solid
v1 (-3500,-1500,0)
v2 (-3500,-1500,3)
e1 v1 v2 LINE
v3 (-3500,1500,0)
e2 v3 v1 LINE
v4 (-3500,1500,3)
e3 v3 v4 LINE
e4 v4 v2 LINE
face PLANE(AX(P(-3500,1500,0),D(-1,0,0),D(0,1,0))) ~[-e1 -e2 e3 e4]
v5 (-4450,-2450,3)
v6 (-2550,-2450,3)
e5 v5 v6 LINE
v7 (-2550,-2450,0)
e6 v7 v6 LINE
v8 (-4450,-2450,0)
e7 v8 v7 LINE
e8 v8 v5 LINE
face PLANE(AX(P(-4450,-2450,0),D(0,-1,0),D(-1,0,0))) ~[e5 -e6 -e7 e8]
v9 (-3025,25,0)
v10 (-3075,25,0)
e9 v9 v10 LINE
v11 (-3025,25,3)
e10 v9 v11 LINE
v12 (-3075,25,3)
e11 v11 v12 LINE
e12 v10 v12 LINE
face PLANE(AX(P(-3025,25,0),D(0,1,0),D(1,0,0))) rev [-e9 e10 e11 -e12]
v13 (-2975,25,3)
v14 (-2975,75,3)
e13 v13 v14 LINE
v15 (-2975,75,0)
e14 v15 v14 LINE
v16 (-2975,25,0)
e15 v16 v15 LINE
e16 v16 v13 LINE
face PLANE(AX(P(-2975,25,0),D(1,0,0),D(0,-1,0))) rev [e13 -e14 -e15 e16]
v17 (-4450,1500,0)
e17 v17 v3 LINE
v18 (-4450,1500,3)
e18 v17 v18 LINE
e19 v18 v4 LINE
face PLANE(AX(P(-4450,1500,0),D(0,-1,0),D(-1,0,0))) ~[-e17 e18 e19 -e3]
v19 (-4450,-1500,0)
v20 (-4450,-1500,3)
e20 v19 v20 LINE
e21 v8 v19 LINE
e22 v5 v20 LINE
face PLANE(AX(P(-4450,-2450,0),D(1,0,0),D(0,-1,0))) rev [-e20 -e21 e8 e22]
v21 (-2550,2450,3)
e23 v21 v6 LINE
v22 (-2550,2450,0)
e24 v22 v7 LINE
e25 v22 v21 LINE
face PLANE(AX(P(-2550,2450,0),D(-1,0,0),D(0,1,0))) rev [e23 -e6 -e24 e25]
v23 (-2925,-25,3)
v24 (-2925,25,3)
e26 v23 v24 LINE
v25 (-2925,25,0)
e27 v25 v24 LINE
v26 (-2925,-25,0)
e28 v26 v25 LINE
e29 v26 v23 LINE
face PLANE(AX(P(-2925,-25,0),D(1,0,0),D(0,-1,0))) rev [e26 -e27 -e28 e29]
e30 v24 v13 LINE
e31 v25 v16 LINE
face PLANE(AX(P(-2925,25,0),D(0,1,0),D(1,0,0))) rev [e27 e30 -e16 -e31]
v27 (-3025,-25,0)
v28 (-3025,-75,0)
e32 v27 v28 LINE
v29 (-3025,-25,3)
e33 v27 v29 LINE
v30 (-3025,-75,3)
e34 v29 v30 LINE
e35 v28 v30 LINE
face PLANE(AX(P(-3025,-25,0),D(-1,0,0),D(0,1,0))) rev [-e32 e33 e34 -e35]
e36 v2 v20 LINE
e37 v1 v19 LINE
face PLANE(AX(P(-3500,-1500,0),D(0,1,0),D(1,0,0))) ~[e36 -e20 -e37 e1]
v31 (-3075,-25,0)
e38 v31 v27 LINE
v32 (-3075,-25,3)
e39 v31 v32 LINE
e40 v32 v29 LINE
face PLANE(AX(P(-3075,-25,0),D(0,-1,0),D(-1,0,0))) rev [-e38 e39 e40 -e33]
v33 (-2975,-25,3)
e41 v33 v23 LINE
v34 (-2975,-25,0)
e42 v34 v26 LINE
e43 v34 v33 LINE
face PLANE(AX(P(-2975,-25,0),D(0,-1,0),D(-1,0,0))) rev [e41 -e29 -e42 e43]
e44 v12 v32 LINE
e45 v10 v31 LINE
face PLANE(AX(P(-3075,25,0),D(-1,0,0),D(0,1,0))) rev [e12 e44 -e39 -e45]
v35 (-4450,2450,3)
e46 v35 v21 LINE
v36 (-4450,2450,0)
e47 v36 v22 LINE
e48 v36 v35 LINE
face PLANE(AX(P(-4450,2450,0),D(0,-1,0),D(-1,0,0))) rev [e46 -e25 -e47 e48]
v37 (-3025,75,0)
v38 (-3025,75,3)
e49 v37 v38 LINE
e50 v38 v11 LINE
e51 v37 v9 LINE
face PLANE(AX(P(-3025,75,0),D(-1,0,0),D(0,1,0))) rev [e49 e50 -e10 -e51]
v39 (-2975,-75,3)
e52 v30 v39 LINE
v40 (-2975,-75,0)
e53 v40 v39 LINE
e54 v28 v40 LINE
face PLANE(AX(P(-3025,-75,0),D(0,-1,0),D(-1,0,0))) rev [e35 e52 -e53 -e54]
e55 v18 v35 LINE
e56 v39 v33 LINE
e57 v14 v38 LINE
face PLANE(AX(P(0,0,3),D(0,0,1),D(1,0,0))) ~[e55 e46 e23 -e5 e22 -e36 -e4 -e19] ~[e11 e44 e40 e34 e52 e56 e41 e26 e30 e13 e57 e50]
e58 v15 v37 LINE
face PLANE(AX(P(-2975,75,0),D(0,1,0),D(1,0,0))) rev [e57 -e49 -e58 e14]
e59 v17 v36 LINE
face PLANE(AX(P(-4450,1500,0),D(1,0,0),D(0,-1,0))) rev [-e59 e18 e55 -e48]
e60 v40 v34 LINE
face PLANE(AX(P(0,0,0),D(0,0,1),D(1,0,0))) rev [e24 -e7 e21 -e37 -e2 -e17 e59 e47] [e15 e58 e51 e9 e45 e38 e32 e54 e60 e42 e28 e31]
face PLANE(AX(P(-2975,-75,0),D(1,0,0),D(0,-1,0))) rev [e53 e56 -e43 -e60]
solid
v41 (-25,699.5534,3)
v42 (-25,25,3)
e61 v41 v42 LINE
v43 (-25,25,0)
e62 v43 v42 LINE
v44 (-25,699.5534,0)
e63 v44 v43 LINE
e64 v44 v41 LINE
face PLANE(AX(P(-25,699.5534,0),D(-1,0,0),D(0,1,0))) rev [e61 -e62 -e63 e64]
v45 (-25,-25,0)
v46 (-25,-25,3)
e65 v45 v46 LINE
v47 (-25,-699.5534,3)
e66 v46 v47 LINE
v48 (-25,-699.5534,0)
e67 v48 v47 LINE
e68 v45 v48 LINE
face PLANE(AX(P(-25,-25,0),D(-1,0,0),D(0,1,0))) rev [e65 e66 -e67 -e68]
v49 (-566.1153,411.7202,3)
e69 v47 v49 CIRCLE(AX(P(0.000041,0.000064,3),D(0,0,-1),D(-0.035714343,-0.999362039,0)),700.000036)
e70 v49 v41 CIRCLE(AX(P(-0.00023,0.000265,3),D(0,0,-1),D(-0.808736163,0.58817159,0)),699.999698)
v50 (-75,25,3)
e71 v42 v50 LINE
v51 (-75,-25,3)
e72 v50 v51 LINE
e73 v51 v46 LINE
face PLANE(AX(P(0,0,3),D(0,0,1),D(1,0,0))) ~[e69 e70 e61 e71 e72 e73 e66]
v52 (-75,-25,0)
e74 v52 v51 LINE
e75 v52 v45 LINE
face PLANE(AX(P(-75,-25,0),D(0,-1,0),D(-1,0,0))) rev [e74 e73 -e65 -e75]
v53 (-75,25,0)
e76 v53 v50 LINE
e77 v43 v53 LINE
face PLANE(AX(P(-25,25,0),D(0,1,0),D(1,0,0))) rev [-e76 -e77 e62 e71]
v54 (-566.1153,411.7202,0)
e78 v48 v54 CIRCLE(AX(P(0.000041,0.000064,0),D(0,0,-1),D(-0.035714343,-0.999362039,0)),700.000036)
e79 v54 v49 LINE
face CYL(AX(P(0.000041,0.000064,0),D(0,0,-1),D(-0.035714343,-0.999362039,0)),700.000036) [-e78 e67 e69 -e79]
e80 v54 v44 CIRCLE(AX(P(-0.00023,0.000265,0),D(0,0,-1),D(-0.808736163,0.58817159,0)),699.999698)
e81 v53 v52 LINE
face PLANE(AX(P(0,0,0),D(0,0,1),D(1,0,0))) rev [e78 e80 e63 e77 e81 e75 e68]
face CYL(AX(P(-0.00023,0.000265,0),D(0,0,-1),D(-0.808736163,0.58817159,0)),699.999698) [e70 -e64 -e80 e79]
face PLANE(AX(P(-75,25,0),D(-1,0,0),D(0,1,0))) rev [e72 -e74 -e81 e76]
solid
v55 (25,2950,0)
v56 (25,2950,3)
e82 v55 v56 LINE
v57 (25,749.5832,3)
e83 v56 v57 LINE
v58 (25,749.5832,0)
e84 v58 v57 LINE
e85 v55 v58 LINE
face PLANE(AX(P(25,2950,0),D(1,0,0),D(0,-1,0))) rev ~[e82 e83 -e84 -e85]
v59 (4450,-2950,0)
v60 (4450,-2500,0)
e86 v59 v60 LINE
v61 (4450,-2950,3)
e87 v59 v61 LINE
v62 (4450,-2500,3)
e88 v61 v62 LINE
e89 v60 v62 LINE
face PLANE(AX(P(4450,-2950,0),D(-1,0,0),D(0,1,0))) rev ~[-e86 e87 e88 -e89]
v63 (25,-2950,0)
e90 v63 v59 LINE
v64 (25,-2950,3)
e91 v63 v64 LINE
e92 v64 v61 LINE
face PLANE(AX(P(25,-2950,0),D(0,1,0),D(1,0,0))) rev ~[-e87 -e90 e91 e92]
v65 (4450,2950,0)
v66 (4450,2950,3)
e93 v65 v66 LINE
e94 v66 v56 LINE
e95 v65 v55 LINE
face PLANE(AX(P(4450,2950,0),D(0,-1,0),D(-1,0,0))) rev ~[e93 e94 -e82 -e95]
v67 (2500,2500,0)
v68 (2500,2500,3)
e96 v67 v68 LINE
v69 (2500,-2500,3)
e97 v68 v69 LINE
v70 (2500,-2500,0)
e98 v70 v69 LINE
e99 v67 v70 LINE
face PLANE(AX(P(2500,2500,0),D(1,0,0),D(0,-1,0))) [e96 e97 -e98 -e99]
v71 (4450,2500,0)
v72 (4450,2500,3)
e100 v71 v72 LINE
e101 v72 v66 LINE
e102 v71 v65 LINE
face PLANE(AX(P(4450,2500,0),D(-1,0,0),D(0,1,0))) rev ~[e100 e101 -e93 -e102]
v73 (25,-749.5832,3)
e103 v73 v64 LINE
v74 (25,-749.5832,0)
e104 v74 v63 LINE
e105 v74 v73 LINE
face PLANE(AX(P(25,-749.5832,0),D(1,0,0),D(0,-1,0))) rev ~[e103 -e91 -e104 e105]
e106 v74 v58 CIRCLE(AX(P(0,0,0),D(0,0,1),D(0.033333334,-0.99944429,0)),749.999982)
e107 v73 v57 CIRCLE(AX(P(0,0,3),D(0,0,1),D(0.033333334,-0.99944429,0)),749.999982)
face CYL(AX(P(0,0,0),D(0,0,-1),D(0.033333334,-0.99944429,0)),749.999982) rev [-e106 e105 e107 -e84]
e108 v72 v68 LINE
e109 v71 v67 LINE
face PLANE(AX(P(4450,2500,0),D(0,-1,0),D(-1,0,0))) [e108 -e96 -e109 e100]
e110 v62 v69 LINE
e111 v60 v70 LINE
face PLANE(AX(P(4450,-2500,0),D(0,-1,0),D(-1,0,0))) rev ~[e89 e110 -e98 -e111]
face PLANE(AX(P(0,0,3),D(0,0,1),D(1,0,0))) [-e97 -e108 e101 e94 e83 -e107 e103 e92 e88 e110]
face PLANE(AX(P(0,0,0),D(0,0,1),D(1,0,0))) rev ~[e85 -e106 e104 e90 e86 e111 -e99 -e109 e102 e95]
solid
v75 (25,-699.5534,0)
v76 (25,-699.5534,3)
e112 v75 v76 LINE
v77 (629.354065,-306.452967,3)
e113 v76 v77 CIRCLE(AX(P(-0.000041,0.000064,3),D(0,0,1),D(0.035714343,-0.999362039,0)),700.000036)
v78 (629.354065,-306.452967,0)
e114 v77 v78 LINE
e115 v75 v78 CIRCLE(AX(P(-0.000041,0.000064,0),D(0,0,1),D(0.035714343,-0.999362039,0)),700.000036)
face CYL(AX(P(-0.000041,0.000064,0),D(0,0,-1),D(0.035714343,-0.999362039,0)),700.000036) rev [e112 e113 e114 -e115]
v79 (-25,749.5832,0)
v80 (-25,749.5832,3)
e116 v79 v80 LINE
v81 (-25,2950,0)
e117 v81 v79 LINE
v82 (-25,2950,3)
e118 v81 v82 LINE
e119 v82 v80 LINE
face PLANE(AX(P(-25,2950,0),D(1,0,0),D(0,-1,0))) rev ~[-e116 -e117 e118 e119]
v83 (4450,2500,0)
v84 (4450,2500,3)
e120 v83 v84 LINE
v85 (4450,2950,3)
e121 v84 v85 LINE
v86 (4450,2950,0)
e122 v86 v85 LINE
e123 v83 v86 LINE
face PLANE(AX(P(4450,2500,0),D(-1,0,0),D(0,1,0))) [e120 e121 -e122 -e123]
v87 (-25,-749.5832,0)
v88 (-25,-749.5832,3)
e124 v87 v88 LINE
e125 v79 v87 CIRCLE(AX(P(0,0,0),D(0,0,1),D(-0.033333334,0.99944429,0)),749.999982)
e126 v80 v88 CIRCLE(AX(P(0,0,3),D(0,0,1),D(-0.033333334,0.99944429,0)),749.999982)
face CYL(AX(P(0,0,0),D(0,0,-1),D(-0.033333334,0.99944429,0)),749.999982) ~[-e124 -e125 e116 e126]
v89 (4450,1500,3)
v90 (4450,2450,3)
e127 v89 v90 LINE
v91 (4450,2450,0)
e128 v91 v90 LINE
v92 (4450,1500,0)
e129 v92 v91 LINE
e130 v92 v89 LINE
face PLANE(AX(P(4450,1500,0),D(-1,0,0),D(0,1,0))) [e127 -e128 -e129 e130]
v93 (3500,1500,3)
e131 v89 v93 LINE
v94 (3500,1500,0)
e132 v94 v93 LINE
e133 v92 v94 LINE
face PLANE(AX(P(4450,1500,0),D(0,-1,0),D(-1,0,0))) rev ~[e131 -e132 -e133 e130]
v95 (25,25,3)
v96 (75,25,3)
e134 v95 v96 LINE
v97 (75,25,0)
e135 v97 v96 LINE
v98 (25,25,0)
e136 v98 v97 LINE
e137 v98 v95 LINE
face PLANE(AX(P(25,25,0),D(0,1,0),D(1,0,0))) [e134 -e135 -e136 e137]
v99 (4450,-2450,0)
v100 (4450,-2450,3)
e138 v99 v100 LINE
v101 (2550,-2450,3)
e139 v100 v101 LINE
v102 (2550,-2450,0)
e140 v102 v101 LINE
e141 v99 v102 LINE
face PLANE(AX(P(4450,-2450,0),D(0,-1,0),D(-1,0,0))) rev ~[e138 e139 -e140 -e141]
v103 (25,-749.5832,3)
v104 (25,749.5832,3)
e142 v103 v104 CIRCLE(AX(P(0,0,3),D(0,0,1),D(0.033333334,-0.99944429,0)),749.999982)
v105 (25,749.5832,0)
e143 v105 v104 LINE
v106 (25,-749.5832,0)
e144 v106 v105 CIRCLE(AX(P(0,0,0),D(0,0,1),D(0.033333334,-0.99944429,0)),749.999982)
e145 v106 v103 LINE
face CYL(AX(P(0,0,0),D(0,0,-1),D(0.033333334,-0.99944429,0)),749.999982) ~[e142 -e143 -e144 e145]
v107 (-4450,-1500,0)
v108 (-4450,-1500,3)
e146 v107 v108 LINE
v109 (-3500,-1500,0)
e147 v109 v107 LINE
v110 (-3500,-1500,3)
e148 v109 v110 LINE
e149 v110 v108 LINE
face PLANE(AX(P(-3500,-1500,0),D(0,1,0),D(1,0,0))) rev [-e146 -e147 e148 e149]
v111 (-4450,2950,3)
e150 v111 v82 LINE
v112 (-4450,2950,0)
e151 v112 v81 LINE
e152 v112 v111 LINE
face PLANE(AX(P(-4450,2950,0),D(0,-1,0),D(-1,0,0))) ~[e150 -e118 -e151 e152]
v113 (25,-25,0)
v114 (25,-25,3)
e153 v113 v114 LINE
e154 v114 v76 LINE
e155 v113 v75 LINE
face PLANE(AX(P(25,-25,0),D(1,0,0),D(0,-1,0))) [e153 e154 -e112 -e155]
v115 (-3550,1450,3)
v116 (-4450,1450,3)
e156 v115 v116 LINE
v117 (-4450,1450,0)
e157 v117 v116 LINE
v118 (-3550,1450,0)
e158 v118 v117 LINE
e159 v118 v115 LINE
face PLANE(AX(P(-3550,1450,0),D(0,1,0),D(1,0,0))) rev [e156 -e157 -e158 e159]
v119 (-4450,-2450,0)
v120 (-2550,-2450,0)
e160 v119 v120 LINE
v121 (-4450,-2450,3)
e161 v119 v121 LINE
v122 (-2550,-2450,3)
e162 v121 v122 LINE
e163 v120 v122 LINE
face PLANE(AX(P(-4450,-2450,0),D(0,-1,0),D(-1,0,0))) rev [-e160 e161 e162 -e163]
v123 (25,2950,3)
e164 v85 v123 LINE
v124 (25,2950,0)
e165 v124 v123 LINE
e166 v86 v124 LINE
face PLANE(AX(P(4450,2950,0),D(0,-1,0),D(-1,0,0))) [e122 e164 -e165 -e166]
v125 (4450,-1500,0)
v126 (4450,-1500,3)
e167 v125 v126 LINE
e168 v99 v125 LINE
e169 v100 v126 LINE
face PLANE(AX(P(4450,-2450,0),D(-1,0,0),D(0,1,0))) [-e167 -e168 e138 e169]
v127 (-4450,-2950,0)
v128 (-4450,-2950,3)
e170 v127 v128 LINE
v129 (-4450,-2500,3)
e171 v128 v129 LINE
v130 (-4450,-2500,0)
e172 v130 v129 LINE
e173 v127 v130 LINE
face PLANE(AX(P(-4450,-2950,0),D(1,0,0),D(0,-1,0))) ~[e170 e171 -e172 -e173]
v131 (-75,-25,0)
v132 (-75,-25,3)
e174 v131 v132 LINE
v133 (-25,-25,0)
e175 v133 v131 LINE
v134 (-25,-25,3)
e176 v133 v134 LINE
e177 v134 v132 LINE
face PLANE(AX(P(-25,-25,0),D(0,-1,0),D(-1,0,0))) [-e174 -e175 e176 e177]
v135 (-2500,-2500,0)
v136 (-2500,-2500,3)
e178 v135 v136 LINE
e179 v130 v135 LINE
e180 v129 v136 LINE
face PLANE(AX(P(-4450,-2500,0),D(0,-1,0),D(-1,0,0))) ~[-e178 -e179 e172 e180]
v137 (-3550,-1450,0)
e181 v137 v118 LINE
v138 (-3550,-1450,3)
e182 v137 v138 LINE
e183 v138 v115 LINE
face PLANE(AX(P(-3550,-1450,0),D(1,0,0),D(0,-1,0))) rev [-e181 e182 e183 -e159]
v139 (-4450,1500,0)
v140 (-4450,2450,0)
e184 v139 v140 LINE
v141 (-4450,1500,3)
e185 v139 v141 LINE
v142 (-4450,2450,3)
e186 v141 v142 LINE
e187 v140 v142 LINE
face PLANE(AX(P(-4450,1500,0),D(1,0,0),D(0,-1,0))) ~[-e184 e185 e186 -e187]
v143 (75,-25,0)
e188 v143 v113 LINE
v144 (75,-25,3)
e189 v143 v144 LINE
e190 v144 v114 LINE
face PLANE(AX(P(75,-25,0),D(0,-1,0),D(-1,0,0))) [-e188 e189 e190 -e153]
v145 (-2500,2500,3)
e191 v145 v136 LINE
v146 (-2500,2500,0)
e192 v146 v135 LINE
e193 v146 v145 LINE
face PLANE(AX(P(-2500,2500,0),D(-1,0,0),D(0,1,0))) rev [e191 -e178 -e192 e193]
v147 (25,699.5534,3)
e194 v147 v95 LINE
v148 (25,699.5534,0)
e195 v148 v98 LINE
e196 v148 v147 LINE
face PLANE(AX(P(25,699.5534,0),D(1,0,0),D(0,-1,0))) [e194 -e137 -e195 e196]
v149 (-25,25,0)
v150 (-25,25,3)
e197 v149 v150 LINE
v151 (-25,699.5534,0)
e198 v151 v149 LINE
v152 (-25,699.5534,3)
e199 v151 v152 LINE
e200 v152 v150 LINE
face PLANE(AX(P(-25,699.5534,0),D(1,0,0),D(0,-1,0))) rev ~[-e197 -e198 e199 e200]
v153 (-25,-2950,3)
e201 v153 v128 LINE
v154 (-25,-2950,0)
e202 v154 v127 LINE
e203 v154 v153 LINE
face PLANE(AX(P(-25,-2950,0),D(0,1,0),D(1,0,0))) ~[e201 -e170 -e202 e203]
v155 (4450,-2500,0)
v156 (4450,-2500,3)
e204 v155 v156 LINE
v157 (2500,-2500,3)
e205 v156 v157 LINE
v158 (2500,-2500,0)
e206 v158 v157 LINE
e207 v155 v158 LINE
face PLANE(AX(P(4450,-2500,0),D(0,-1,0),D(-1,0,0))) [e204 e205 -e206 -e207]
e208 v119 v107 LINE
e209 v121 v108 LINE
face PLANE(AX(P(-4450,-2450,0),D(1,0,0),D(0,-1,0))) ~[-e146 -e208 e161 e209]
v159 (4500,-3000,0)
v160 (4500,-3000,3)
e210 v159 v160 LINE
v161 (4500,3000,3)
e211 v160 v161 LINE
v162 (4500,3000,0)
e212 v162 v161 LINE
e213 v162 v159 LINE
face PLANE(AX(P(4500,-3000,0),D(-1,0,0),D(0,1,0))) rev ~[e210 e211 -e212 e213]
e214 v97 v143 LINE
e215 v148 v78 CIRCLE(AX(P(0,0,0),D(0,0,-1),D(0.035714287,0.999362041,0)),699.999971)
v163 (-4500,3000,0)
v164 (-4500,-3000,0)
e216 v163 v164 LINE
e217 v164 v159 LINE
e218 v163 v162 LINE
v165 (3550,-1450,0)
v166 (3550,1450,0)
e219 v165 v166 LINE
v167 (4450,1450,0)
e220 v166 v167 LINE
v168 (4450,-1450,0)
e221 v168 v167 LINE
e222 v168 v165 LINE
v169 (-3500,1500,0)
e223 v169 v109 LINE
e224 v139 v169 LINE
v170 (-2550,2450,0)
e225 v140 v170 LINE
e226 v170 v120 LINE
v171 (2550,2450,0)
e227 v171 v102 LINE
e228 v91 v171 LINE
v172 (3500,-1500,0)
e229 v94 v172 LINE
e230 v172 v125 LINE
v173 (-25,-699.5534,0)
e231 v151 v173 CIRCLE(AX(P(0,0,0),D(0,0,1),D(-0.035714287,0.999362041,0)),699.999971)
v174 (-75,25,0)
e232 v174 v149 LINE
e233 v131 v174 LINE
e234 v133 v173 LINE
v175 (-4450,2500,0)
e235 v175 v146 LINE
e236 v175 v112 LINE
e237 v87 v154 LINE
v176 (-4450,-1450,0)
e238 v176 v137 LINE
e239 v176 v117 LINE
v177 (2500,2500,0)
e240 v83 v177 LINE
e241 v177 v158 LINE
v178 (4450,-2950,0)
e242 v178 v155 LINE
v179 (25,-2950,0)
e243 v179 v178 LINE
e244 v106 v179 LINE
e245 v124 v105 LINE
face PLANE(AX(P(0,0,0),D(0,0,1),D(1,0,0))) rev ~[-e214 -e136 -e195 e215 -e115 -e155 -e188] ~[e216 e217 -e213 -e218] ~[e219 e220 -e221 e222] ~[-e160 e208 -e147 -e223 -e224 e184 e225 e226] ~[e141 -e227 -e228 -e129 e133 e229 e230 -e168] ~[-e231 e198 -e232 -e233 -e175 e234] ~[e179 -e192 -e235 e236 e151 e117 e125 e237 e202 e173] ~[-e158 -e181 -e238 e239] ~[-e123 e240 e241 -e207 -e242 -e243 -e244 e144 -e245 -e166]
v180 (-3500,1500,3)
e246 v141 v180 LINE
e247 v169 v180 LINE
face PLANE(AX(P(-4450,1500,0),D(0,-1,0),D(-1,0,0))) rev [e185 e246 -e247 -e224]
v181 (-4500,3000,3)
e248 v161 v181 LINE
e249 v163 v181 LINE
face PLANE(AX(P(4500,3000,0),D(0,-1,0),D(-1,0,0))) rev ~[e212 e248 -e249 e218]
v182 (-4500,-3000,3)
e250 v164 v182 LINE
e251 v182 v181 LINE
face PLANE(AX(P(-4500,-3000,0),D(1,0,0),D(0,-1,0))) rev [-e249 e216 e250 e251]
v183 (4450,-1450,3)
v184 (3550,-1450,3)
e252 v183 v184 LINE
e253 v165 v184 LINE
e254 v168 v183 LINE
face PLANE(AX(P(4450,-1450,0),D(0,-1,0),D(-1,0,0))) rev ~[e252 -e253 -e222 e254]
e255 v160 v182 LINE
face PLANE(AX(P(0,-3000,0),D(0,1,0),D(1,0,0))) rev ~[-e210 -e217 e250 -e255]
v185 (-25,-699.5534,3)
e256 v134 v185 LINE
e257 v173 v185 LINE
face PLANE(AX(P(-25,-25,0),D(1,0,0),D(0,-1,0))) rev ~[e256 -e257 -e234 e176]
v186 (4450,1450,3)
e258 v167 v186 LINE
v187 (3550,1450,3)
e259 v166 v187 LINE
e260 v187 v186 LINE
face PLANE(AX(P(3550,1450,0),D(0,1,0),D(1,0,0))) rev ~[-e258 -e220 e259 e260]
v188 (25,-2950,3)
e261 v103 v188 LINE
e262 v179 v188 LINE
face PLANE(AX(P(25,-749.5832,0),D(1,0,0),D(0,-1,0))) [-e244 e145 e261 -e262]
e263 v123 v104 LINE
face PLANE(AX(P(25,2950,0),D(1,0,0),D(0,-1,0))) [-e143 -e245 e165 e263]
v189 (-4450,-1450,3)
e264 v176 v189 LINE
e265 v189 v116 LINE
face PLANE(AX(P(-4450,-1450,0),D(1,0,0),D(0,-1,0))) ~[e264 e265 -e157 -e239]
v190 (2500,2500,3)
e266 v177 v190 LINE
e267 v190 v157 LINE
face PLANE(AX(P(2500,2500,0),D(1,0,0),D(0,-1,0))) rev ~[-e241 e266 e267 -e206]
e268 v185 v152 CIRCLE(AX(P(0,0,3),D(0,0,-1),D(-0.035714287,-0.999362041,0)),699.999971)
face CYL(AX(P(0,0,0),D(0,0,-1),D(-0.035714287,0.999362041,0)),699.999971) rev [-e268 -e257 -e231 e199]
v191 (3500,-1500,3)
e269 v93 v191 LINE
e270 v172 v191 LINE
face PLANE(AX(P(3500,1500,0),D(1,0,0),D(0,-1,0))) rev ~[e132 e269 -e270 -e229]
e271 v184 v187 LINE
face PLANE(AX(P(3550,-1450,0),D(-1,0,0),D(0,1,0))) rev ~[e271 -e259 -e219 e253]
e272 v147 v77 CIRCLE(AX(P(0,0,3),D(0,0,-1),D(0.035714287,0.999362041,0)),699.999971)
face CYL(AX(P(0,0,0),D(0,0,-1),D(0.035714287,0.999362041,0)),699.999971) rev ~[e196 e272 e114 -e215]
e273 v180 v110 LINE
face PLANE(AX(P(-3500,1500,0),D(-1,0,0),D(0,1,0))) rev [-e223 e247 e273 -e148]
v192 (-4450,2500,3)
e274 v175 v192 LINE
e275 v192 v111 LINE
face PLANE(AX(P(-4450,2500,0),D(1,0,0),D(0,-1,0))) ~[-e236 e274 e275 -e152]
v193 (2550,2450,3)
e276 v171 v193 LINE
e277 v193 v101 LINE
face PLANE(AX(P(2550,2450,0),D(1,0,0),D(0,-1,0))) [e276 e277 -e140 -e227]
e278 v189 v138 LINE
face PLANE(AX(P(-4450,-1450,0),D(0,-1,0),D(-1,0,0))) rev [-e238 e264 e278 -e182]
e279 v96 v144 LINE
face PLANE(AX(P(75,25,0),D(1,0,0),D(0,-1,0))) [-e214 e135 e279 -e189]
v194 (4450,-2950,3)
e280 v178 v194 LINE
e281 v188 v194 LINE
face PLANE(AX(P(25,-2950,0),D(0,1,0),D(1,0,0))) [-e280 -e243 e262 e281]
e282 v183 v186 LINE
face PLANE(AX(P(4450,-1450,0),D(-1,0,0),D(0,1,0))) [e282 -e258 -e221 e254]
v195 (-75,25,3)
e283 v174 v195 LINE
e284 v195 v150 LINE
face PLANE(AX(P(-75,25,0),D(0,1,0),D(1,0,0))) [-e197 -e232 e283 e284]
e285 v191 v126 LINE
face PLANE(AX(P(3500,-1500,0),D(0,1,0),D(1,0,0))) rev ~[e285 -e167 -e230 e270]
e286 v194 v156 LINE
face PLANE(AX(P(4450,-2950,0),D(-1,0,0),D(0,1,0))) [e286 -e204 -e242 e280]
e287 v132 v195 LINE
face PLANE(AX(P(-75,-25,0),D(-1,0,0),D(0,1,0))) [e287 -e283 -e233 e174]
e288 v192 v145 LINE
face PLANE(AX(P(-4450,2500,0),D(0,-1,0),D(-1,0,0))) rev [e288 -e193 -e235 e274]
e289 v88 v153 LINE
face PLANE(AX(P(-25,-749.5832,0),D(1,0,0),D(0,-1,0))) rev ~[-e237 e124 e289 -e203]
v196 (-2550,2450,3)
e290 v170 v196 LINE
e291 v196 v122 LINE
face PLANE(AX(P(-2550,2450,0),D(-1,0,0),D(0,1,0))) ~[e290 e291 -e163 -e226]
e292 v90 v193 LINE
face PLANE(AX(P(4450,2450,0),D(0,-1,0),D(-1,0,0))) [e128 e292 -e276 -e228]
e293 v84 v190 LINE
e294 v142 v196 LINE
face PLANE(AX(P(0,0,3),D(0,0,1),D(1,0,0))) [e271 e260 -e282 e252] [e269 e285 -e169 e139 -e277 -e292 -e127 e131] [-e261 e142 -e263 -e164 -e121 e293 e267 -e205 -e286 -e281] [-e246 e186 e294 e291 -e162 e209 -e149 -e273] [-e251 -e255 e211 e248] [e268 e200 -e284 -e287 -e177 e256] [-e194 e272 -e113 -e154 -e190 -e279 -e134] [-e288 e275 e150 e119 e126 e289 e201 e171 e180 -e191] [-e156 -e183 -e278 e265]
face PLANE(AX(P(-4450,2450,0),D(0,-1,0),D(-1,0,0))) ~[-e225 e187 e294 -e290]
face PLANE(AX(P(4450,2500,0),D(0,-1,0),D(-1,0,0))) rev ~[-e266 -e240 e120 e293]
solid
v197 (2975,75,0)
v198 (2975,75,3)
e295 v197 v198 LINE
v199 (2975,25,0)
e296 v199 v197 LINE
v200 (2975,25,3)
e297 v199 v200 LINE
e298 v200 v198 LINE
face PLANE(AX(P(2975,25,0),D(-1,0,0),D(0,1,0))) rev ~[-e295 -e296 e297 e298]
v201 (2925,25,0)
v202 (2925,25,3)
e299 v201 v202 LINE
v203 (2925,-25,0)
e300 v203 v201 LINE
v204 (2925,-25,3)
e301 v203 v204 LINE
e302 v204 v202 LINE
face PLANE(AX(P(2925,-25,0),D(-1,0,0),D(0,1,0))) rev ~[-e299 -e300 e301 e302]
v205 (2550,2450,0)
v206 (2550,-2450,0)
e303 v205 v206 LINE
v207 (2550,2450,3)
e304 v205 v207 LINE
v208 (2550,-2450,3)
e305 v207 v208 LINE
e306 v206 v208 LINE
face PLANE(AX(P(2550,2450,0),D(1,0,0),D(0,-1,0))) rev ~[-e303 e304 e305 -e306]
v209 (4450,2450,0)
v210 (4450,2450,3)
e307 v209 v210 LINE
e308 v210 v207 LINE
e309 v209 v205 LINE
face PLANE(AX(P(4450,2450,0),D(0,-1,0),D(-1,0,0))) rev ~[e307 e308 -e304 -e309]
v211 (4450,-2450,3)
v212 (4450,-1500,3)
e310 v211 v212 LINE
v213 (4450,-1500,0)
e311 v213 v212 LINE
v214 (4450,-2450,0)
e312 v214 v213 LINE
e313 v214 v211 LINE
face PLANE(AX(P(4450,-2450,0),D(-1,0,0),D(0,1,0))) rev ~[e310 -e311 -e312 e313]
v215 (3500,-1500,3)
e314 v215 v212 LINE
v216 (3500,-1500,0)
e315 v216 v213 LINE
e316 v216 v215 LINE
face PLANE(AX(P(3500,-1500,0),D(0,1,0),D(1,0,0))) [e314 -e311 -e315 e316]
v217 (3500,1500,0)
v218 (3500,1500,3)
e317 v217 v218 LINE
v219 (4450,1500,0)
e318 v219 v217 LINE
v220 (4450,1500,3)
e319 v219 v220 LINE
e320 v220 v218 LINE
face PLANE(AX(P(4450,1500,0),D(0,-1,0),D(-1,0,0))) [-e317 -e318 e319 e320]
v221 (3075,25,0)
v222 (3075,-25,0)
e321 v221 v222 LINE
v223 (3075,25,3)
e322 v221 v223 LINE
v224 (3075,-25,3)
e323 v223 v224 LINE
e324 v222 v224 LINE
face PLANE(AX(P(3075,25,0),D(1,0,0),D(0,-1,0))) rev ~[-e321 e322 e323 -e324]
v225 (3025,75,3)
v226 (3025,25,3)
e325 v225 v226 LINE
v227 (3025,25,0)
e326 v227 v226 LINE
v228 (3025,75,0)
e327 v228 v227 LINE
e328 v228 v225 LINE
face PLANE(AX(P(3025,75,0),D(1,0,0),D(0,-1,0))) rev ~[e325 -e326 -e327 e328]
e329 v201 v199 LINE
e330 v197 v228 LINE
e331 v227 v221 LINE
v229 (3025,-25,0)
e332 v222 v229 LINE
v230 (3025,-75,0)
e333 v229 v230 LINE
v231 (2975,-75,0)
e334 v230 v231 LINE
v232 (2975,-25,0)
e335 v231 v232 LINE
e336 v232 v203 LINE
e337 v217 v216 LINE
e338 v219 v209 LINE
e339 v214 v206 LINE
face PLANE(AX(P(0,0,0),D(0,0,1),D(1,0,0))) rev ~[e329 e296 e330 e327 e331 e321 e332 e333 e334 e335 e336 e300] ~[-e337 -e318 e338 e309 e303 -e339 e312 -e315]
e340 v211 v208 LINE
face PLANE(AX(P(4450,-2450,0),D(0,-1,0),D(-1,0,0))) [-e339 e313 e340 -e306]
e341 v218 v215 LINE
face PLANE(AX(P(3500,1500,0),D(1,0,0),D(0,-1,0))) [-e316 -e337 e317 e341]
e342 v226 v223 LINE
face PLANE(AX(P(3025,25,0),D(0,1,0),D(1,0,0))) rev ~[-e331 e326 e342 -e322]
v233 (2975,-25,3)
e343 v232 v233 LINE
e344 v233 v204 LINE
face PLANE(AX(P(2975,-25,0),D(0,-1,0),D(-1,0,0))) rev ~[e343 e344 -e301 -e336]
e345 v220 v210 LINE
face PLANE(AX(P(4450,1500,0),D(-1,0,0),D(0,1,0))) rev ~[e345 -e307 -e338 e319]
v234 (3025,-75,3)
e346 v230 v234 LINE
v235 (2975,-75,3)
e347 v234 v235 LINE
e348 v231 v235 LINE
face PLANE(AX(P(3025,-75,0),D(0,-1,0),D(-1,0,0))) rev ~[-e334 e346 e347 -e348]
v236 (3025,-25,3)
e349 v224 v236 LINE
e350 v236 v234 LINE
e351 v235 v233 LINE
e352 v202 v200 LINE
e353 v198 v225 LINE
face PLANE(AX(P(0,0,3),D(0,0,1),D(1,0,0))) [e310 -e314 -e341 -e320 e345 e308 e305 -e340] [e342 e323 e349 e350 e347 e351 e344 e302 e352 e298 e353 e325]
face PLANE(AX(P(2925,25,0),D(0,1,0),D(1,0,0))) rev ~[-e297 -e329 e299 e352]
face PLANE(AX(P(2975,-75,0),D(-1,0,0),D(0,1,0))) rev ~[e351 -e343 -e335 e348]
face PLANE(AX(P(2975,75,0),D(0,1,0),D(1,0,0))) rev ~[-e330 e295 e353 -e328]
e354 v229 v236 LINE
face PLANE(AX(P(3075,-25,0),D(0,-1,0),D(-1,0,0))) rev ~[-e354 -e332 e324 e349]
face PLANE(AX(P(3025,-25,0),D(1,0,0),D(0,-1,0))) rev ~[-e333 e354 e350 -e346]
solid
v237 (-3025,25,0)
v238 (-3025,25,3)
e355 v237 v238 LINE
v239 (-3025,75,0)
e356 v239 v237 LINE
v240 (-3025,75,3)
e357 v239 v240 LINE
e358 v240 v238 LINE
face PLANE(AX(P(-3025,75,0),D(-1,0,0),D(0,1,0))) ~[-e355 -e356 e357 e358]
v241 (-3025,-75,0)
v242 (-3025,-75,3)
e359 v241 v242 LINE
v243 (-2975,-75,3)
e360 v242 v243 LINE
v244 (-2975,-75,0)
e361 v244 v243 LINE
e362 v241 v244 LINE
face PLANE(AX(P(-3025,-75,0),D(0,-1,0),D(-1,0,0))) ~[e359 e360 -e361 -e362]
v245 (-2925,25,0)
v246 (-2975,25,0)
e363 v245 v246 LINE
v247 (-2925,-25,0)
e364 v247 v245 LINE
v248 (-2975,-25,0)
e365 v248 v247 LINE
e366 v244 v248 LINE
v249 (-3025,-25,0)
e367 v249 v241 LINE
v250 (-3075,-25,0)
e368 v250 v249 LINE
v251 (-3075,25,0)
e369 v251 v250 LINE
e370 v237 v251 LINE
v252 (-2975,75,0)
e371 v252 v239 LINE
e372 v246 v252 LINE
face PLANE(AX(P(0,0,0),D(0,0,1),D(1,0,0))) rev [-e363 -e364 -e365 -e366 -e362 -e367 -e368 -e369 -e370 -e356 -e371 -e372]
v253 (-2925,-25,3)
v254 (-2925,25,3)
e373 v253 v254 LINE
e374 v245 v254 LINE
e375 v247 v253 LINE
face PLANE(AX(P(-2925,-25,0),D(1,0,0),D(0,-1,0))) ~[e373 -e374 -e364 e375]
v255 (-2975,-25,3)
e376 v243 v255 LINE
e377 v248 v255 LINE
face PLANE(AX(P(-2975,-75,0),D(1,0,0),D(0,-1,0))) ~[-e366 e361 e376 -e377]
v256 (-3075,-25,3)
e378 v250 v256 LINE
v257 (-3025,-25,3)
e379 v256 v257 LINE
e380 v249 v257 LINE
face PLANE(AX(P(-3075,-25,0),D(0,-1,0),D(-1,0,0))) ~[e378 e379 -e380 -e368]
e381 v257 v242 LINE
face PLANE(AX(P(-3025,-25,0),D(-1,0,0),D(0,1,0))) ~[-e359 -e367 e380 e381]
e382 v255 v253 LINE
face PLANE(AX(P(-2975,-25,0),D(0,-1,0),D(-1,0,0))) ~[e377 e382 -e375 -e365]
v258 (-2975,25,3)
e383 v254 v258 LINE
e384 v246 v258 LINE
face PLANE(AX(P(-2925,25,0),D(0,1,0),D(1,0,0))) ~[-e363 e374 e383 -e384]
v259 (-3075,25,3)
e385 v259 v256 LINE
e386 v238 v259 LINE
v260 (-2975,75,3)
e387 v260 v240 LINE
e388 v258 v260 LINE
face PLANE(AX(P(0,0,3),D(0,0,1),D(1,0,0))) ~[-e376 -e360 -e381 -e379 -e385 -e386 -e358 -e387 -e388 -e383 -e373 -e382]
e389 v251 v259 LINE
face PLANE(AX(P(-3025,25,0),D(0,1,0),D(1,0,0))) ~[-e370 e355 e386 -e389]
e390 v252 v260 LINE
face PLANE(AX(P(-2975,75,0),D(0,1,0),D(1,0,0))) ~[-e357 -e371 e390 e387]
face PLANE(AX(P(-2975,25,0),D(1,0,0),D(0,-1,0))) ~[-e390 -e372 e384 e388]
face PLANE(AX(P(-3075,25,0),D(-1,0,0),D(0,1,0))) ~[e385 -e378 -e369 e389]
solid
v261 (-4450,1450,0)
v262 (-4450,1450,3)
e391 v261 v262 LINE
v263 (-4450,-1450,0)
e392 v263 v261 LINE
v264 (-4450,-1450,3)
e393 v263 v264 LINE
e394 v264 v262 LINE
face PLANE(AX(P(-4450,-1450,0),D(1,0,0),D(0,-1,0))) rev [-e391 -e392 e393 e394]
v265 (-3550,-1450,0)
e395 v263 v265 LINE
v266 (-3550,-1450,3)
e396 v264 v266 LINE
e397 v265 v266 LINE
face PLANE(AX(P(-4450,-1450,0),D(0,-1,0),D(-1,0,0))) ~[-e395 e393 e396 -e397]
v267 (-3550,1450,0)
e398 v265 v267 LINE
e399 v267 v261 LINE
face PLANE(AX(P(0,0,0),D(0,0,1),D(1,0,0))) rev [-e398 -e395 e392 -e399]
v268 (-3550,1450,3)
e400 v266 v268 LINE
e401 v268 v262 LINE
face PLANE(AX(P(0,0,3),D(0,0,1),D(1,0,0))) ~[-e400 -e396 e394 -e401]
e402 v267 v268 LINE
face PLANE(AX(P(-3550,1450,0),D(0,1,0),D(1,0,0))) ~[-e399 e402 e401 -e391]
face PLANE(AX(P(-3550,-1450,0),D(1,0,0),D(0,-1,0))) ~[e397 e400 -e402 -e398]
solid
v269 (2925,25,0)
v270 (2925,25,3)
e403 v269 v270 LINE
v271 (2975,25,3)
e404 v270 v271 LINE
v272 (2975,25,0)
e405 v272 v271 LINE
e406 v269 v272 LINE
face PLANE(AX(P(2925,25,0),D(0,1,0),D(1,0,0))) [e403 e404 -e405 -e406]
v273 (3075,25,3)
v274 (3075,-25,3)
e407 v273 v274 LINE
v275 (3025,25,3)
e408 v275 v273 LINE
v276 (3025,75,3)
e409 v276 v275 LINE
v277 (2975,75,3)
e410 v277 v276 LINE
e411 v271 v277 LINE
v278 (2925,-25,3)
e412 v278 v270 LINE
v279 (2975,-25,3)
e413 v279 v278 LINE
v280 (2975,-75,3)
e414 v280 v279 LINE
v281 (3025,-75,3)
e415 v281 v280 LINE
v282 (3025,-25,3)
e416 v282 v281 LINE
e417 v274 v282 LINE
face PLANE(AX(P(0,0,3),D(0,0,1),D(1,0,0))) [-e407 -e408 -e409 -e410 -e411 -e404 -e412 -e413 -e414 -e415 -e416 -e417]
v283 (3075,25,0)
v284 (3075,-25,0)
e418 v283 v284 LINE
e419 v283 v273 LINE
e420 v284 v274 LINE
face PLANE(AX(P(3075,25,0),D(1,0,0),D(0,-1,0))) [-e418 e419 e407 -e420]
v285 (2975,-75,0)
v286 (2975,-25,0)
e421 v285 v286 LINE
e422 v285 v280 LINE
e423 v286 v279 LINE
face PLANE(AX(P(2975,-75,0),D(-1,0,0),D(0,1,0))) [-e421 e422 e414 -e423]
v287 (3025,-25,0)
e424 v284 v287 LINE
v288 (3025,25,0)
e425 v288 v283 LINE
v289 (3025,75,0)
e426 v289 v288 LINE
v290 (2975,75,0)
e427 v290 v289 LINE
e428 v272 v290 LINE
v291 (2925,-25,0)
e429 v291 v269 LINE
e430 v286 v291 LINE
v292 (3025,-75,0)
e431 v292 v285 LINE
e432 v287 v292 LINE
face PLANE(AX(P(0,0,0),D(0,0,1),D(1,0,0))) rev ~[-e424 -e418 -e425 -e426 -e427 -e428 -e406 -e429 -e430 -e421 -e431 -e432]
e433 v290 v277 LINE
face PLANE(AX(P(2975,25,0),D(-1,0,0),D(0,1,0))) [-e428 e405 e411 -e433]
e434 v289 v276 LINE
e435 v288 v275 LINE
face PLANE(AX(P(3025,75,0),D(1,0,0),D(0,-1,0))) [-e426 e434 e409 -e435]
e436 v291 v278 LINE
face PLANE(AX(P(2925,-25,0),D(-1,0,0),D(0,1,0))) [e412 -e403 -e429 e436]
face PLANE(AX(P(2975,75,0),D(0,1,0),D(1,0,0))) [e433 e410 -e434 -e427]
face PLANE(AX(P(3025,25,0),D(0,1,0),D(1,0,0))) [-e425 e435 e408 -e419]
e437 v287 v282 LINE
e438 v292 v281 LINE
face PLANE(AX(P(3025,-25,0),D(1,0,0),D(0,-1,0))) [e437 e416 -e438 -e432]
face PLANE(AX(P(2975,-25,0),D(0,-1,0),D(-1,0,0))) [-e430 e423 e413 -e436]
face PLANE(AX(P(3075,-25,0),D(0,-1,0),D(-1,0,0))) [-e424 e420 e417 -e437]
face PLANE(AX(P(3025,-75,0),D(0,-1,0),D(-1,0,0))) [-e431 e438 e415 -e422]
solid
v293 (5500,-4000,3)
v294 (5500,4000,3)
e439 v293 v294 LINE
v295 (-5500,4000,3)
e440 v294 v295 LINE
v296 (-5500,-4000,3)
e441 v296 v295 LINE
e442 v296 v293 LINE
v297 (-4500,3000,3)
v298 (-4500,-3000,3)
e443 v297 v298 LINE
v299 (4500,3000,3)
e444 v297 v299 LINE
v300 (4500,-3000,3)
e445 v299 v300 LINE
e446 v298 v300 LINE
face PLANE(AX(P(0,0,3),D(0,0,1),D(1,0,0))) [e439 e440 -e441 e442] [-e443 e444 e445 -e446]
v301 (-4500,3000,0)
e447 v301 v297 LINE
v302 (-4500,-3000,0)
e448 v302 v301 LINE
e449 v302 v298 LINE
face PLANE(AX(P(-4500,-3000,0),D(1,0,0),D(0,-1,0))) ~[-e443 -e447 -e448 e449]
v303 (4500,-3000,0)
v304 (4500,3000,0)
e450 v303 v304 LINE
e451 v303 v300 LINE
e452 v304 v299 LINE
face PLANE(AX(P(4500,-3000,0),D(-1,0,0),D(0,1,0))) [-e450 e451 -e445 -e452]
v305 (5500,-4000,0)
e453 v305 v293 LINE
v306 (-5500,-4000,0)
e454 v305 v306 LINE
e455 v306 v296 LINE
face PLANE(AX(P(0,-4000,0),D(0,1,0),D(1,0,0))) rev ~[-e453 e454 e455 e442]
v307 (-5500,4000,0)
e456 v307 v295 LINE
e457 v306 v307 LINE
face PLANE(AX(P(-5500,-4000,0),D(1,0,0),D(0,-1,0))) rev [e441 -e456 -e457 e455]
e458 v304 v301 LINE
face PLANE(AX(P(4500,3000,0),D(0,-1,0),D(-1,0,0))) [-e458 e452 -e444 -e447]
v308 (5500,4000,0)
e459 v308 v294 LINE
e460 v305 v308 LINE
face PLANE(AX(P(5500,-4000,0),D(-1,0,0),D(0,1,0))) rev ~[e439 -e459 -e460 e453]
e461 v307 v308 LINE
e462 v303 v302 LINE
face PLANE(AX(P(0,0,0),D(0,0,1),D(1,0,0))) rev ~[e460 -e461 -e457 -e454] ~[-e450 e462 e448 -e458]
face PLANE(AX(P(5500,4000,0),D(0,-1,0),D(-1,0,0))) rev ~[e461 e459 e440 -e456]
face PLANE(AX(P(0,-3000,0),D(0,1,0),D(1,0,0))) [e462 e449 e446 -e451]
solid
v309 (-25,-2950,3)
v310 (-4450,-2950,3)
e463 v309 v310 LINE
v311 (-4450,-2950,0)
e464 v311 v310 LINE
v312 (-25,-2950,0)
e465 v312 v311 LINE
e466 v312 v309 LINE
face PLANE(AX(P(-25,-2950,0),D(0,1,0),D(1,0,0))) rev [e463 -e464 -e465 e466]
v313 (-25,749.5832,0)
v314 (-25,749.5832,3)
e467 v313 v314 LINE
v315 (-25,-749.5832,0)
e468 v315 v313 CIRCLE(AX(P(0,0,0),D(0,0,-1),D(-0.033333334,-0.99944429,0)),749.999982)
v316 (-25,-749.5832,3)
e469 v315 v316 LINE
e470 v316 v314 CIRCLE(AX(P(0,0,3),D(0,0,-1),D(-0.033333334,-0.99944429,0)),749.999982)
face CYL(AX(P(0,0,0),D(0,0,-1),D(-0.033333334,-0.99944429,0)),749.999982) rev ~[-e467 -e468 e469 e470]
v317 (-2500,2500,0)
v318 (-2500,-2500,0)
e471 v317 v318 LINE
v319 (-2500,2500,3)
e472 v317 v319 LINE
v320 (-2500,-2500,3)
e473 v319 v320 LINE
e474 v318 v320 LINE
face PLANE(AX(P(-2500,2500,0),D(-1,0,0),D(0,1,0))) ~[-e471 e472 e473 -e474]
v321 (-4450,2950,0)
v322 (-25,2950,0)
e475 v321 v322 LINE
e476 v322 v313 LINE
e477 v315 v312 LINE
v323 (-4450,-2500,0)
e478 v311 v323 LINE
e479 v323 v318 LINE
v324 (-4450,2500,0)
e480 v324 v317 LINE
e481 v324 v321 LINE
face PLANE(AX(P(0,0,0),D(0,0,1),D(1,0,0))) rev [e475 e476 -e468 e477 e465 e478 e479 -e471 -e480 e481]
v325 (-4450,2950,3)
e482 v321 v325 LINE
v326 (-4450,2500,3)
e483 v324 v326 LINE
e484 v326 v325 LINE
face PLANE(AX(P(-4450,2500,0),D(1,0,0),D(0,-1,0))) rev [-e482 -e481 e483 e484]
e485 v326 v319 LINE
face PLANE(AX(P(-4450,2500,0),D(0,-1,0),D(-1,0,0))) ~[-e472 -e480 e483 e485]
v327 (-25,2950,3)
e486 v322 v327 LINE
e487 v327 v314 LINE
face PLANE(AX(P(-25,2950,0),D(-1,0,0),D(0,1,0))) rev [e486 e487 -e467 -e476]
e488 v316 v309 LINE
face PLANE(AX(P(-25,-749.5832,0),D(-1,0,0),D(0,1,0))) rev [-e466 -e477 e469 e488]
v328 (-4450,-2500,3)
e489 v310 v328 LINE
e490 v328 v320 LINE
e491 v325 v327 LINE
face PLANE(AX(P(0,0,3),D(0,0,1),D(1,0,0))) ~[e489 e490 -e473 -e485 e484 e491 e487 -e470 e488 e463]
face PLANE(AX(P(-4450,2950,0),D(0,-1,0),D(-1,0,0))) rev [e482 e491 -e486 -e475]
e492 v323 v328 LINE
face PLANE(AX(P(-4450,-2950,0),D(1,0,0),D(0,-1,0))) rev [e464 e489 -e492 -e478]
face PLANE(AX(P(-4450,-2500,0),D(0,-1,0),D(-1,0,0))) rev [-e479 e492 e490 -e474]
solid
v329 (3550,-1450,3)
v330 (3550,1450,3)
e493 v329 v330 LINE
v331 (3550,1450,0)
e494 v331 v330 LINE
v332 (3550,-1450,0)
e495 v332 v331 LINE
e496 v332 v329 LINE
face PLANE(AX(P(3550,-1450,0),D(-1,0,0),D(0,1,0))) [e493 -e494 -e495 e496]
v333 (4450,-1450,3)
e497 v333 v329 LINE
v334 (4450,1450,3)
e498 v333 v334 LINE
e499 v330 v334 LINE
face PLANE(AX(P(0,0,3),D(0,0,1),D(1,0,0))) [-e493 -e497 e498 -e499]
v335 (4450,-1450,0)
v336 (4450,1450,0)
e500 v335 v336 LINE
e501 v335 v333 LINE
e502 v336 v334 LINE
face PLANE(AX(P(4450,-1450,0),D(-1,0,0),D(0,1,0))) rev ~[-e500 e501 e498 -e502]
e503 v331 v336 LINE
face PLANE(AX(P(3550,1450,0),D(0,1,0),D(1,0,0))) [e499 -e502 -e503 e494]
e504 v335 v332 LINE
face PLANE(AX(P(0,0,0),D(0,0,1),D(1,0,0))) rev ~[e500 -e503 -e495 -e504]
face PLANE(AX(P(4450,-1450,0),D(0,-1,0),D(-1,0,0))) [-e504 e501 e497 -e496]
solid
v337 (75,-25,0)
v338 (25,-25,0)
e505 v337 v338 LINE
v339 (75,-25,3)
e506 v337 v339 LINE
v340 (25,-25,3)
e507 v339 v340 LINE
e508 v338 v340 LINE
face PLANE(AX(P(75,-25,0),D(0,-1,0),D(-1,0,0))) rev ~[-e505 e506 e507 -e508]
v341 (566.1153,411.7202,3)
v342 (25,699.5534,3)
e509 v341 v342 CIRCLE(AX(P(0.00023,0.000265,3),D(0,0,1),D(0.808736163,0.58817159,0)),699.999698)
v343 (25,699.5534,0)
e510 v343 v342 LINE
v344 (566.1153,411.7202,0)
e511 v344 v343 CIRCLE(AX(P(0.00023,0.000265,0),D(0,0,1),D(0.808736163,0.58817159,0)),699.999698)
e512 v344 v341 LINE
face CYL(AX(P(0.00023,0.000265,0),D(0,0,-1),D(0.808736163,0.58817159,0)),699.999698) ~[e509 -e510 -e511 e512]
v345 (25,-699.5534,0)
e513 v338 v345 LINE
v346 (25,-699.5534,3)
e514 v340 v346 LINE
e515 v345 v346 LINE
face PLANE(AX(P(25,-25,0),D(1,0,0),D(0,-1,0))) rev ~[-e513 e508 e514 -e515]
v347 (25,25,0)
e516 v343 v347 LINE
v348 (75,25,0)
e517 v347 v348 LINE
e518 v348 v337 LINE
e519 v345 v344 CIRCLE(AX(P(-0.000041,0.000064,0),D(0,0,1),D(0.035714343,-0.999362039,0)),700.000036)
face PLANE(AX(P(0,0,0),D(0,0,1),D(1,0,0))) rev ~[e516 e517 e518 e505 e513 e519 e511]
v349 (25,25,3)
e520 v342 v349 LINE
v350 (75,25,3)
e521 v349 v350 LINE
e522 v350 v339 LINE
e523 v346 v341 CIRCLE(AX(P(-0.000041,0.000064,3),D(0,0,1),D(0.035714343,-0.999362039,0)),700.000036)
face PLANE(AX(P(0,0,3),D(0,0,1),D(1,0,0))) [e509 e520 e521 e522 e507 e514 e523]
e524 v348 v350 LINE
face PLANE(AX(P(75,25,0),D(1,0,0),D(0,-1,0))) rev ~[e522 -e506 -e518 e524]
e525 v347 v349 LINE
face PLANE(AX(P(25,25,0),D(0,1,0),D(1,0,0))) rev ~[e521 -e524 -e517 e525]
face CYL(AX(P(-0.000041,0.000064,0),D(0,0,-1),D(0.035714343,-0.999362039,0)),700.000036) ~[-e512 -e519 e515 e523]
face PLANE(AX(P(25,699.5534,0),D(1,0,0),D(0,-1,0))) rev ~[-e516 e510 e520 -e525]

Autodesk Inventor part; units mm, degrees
ref_plane "YZ Plane" through (0, 0, 0) normal (1, 0, 0) x (0, 1, 0)
ref_plane "XZ Plane" through (0, 0, 0) normal (0, 1, 0) x (-1, 0, 0)
ref_plane "XY Plane" through (0, 0, 0) normal (0, 0, 1) x (1, 0, 0)
sketch "スケッチ1" plane through (0, 0, 0) normal (0, 0, 1) x (1, 0, 0)
  line L0 (-5500, -4000) -> (5500, -4000)
  line L1 (5500, -4000) -> (5500, 4000)
  line L2 (5500, 4000) -> (-5500, 4000)
  line L3 (-5500, 4000) -> (-5500, -4000)
  line L4 (-5500, -4000) -> (5500, 4000) construction
  line L5 (5500, -4000) -> (-5500, 4000) construction
  line L6 (5500, 0) -> (-5500, 0) construction
  line L7 (0, 4000) -> (0, -4000)
  line L8 (-4450, -2950) -> (4450, -2950)
  line L9 (4450, -2950) -> (4450, -2500)
  line L10 (4450, 2950) -> (-4450, 2950)
  line L11 (-4450, 2950) -> (-4450, -2950)
  line L12 (-4450, -2950) -> (4450, 2950) construction
  line L13 (4450, -2950) -> (-4450, 2950) construction
  line L14 (-4500, -3000) -> (4500, -3000)
  line L15 (4500, -3000) -> (4500, 1400)
  line L16 (4500, 3000) -> (-4500, 3000)
  line L17 (-4500, 3000) -> (-4500, -3000)
  line L18 (-4500, -3000) -> (4500, 3000) construction
  line L19 (4500, -3000) -> (-4500, 3000) construction
  line L20 (-4475, -2975) -> (4475, -2975) construction
  line L21 (4475, -2975) -> (4475, 2975) construction
  line L22 (4475, 2975) -> (-4475, 2975) construction
  line L23 (-4475, 2975) -> (-4475, -2975) construction
  line L24 (-4475, -2975) -> (4475, 2975) construction
  line L25 (4475, -2975) -> (-4475, 2975) construction
  line L26 (4475, 1350) -> (5100, 1350) construction
  line L27 (5100, 1350) -> (5100, -1350) construction
  line L28 (4500, 1300) -> (5050, 1300)
  line L29 (5050, 1300) -> (5050, -1300)
  line L30 (4500, 1400) -> (5050, 1400)
  line L31 (5150, 1400) -> (5150, -1400)
  line L32 (4475, -1350) -> (5100, -1350) construction
  line L33 (4500, -1300) -> (5050, -1300)
  line L34 (4500, -1400) -> (5150, -1400)
  line L35 (4475, 1475) -> (3525, 1475) construction
  line L36 (3525, 1475) -> (3525, -1475) construction
  line L37 (3525, -1475) -> (4475, -1475) construction
  line L38 (4450, 1500) -> (3500, 1500)
  line L39 (3500, 1500) -> (3500, -1500)
  line L40 (3500, -1500) -> (4450, -1500)
  line L41 (4450, -1450) -> (3550, -1450)
  line L42 (3550, -1450) -> (3550, 1450)
  line L43 (3550, 1450) -> (4450, 1450)
  line L44 (4475, 2475) -> (2525, 2475) construction
  line L45 (2525, 2475) -> (2525, -2475) construction
  line L46 (4450, 2500) -> (2500, 2500)
  line L47 (2500, 2500) -> (2500, -2500)
  line L48 (4450, 2450) -> (2550, 2450)
  line L49 (2550, 2450) -> (2550, -2450)
  line L50 (4450, -2500) -> (2500, -2500)
  line L51 (4450, -2450) -> (2550, -2450)
  line L52 (4475, -2475) -> (2525, -2475) construction
  arc A0 (25, 699.5534) -> (-25, 699.5534) centre (0, 0) ccw construction
  arc A1 (25, 749.5832) -> (-25, 749.5832) centre (0, 0) ccw construction
  line L53 (25, 2950) -> (25, 749.5832)
  line L54 (-25, 2950) -> (-25, 749.5832)
  line L55 (-75, 25) -> (-25, 25)
  line L56 (75, 25) -> (75, -25)
  line L57 (75, -25) -> (25, -25)
  line L58 (-75, -25) -> (-75, 25)
  line L59 (-75, 25) -> (75, -25) construction
  line L60 (75, 25) -> (-75, -25) construction
  line L61 (2925, 25) -> (2975, 25)
  line L62 (3075, 25) -> (3075, -25)
  line L63 (3075, -25) -> (3025, -25)
  line L64 (2925, -25) -> (2925, 25)
  line L65 (2925, 25) -> (3075, -25) construction
  line L66 (3075, 25) -> (2925, -25) construction
  line L67 (2975, 75) -> (3025, 75)
  line L68 (3025, 75) -> (3025, 25)
  line L69 (3025, -75) -> (2975, -75)
  line L70 (2975, -75) -> (2975, -25)
  line L71 (2975, 75) -> (3025, -75) construction
  line L72 (3025, 75) -> (2975, -75) construction
  line L73 (4450, 2450) -> (4450, 2500) construction
  line L74 (4450, 2500) -> (4450, 2950)
  line L75 (4450, 1450) -> (4450, 1500) construction
  line L76 (4450, 1500) -> (4450, 2450)
  line L77 (5050, 1400) -> (5150, 1400)
  line L78 (4500, 1400) -> (4500, 3000)
  line L79 (4450, -1500) -> (4450, -1450) construction
  line L80 (4450, -1450) -> (4450, 1450)
  line L81 (4450, -2500) -> (4450, -2450) construction
  line L82 (4450, -2450) -> (4450, -1500)
  line L83 (2975, -25) -> (2975, 25) construction
  line L84 (2975, 25) -> (3025, 25) construction
  line L85 (3025, 25) -> (3025, -25) construction
  line L86 (3025, -25) -> (3025, -75)
  line L87 (3025, 25) -> (3075, 25)
  line L88 (2975, -25) -> (2925, -25)
  line L89 (2975, 25) -> (2975, 75)
  line L90 (3025, -25) -> (2975, -25) construction
  arc A2 (566.1153, 411.7202) -> (25, 699.5534) centre (0, 0) ccw
  arc A3 (25, -749.5832) -> (25, 749.5832) centre (0, 0) ccw
  line L91 (25, 699.5534) -> (25, 25)
  line L92 (25, 749.5832) -> (25, 699.5534) construction
  line L93 (-25, 699.5534) -> (-25, 25)
  arc A4 (-25, 749.5832) -> (-25, -749.5832) centre (0, 0) ccw
  line L94 (-25, 749.5832) -> (-25, 699.5534) construction
  line L95 (-25, 25) -> (-25, -25) construction
  arc A5 (-25, 699.5534) -> (-25, -699.5534) centre (0, 0) ccw
  line L96 (25, -699.5534) -> (25, -749.5832) construction
  arc A6 (-25, -699.5534) -> (25, -699.5534) centre (0, 0) ccw construction
  arc A7 (-25, -749.5832) -> (25, -749.5832) centre (0, 0) ccw construction
  line L97 (25, -749.5832) -> (25, -2950)
  line L98 (-25, -749.5832) -> (-25, -2950)
  line L99 (-25, -699.5534) -> (-25, -749.5832) construction
  arc A8 (25, -699.5534) -> (566.1153, 411.7202) centre (0, 0) ccw
  line L100 (-25, 25) -> (0, 25) construction
  line L101 (0, 25) -> (25, 25) construction
  line L102 (25, 25) -> (25, -25) construction
  line L103 (25, 25) -> (75, 25)
  line L104 (25, -25) -> (-25, -25) construction
  line L105 (25, -25) -> (25, -699.5534)
  line L106 (-25, -25) -> (-25, -699.5534)
  line L107 (-25, -25) -> (-75, -25)
  point P0 (3000, 0)
  point P1 (452.5, -127.5)
  point P2 (447.5, -247.5)
  point P3 (302.5, -2.5)
  point P4 (297.5, -2.5)
  point P5 (297.5, 2.5)
  point P6 (302.5, 2.5)
  point P7 (2.5, 77.4597)
  point P8 (2.5, -77.4597)
  point P9 (447.5, -252.5)
  point P10 (2.5, -2.5)
  point P11 (25, 724.5688)
  point P12 (2.5, 72.4569)
  point P13 (2.5, 2.5)
  point P14 (-2.5, 2.5)
  point P15 (-2.5, 72.4569)
  point P16 (-25, 724.5688)
  point P17 (-2.5, -2.5)
  point P18 (-2.5, 77.4597)
  point P19 (-2.5, 77.4597)
  point P20 (452.5, -132.5)
  point P21 (606.5521, 441.1288)
  point P22 (0, 3000)
  point P23 (0, -3000)
  point P24 (0, -2950)
  point P25 (0, 2950)
  dimension "d2" = 50
  dimension "d3" = 50
  dimension "d8" = 100
  dimension "d9" = 100
  dimension "d11" = 50
  dimension "d12" = 50
  dimension "d15" = 50
  dimension "d16" = 50
  dimension "d20" = 50
  dimension "d22" = 50
  dimension "d23" = 50
  dimension "d24" = 150
  dimension "d25" = 50
  dimension "d26" = 50
  dimension "d27" = 150
  dimension "d28" = 150
  dimension "d34" = 2600
  dimension "d35" = 1000
  dimension "d36" = 1000
  dimension "d37" = 2000
  dimension "d38" = 5000
  dimension "d39" = 1500
  dimension "d40" = 1000
  dimension "d41" = 6000
  dimension "d42" = 9000
  dimension "d43" = 3000
  dimension "d45" = 600
  dimension "d46" = 1500
extrude "押し出し1" add sketch "スケッチ1" along normal blind 3 contours L7 L14 L15 L34 L31 L77 L30 L78 L16 L2 L1 L0 | L97 A3 L53 L10 L74 L46 L47 L50 L9 L8 | L15 L33 L29 L28 L30 L77 L31 L34 | L15 L28 L29 L33 | L38 L39 L40 L82 L51 L49 L48 L76 | L41 L42 L43 L80 | L103 L91 A2 A8 L105 L57 L56
extrude "押し出し2" add sketch "スケッチ1" along normal blind 3 separate body contours L7 L8 L9 L50 L47 L46 L74 L10 L16 L78 L15 L14 | L8 L98 A4 L54 L10 L7 | L7 L10 L53 A3 L97 L8 | L61 L89 L67 L68 L87 L62 L63 L86 L69 L70 L88 L64
mirror "ミラー1" about plane through (0, 0, 0) normal (1, 0, 0) bodies 2 1
equation "\"d3\" = d2"
equation "\"d11\" = d2"
equation "\"d12\" = d2"
equation "\"d15\" = d2"
equation "\"d16\" = d2"
equation "\"d20\" = d2"
equation "\"d22\" = d2"
equation "\"d23\" = d2"
equation "\"d24\" = 3 * d23"
equation "\"d25\" = d2"
equation "\"d26\" = d2"
equation "\"d27\" = d24"
equation "\"d28\" = d24"
properties part number "SoccerField_KidSize"
